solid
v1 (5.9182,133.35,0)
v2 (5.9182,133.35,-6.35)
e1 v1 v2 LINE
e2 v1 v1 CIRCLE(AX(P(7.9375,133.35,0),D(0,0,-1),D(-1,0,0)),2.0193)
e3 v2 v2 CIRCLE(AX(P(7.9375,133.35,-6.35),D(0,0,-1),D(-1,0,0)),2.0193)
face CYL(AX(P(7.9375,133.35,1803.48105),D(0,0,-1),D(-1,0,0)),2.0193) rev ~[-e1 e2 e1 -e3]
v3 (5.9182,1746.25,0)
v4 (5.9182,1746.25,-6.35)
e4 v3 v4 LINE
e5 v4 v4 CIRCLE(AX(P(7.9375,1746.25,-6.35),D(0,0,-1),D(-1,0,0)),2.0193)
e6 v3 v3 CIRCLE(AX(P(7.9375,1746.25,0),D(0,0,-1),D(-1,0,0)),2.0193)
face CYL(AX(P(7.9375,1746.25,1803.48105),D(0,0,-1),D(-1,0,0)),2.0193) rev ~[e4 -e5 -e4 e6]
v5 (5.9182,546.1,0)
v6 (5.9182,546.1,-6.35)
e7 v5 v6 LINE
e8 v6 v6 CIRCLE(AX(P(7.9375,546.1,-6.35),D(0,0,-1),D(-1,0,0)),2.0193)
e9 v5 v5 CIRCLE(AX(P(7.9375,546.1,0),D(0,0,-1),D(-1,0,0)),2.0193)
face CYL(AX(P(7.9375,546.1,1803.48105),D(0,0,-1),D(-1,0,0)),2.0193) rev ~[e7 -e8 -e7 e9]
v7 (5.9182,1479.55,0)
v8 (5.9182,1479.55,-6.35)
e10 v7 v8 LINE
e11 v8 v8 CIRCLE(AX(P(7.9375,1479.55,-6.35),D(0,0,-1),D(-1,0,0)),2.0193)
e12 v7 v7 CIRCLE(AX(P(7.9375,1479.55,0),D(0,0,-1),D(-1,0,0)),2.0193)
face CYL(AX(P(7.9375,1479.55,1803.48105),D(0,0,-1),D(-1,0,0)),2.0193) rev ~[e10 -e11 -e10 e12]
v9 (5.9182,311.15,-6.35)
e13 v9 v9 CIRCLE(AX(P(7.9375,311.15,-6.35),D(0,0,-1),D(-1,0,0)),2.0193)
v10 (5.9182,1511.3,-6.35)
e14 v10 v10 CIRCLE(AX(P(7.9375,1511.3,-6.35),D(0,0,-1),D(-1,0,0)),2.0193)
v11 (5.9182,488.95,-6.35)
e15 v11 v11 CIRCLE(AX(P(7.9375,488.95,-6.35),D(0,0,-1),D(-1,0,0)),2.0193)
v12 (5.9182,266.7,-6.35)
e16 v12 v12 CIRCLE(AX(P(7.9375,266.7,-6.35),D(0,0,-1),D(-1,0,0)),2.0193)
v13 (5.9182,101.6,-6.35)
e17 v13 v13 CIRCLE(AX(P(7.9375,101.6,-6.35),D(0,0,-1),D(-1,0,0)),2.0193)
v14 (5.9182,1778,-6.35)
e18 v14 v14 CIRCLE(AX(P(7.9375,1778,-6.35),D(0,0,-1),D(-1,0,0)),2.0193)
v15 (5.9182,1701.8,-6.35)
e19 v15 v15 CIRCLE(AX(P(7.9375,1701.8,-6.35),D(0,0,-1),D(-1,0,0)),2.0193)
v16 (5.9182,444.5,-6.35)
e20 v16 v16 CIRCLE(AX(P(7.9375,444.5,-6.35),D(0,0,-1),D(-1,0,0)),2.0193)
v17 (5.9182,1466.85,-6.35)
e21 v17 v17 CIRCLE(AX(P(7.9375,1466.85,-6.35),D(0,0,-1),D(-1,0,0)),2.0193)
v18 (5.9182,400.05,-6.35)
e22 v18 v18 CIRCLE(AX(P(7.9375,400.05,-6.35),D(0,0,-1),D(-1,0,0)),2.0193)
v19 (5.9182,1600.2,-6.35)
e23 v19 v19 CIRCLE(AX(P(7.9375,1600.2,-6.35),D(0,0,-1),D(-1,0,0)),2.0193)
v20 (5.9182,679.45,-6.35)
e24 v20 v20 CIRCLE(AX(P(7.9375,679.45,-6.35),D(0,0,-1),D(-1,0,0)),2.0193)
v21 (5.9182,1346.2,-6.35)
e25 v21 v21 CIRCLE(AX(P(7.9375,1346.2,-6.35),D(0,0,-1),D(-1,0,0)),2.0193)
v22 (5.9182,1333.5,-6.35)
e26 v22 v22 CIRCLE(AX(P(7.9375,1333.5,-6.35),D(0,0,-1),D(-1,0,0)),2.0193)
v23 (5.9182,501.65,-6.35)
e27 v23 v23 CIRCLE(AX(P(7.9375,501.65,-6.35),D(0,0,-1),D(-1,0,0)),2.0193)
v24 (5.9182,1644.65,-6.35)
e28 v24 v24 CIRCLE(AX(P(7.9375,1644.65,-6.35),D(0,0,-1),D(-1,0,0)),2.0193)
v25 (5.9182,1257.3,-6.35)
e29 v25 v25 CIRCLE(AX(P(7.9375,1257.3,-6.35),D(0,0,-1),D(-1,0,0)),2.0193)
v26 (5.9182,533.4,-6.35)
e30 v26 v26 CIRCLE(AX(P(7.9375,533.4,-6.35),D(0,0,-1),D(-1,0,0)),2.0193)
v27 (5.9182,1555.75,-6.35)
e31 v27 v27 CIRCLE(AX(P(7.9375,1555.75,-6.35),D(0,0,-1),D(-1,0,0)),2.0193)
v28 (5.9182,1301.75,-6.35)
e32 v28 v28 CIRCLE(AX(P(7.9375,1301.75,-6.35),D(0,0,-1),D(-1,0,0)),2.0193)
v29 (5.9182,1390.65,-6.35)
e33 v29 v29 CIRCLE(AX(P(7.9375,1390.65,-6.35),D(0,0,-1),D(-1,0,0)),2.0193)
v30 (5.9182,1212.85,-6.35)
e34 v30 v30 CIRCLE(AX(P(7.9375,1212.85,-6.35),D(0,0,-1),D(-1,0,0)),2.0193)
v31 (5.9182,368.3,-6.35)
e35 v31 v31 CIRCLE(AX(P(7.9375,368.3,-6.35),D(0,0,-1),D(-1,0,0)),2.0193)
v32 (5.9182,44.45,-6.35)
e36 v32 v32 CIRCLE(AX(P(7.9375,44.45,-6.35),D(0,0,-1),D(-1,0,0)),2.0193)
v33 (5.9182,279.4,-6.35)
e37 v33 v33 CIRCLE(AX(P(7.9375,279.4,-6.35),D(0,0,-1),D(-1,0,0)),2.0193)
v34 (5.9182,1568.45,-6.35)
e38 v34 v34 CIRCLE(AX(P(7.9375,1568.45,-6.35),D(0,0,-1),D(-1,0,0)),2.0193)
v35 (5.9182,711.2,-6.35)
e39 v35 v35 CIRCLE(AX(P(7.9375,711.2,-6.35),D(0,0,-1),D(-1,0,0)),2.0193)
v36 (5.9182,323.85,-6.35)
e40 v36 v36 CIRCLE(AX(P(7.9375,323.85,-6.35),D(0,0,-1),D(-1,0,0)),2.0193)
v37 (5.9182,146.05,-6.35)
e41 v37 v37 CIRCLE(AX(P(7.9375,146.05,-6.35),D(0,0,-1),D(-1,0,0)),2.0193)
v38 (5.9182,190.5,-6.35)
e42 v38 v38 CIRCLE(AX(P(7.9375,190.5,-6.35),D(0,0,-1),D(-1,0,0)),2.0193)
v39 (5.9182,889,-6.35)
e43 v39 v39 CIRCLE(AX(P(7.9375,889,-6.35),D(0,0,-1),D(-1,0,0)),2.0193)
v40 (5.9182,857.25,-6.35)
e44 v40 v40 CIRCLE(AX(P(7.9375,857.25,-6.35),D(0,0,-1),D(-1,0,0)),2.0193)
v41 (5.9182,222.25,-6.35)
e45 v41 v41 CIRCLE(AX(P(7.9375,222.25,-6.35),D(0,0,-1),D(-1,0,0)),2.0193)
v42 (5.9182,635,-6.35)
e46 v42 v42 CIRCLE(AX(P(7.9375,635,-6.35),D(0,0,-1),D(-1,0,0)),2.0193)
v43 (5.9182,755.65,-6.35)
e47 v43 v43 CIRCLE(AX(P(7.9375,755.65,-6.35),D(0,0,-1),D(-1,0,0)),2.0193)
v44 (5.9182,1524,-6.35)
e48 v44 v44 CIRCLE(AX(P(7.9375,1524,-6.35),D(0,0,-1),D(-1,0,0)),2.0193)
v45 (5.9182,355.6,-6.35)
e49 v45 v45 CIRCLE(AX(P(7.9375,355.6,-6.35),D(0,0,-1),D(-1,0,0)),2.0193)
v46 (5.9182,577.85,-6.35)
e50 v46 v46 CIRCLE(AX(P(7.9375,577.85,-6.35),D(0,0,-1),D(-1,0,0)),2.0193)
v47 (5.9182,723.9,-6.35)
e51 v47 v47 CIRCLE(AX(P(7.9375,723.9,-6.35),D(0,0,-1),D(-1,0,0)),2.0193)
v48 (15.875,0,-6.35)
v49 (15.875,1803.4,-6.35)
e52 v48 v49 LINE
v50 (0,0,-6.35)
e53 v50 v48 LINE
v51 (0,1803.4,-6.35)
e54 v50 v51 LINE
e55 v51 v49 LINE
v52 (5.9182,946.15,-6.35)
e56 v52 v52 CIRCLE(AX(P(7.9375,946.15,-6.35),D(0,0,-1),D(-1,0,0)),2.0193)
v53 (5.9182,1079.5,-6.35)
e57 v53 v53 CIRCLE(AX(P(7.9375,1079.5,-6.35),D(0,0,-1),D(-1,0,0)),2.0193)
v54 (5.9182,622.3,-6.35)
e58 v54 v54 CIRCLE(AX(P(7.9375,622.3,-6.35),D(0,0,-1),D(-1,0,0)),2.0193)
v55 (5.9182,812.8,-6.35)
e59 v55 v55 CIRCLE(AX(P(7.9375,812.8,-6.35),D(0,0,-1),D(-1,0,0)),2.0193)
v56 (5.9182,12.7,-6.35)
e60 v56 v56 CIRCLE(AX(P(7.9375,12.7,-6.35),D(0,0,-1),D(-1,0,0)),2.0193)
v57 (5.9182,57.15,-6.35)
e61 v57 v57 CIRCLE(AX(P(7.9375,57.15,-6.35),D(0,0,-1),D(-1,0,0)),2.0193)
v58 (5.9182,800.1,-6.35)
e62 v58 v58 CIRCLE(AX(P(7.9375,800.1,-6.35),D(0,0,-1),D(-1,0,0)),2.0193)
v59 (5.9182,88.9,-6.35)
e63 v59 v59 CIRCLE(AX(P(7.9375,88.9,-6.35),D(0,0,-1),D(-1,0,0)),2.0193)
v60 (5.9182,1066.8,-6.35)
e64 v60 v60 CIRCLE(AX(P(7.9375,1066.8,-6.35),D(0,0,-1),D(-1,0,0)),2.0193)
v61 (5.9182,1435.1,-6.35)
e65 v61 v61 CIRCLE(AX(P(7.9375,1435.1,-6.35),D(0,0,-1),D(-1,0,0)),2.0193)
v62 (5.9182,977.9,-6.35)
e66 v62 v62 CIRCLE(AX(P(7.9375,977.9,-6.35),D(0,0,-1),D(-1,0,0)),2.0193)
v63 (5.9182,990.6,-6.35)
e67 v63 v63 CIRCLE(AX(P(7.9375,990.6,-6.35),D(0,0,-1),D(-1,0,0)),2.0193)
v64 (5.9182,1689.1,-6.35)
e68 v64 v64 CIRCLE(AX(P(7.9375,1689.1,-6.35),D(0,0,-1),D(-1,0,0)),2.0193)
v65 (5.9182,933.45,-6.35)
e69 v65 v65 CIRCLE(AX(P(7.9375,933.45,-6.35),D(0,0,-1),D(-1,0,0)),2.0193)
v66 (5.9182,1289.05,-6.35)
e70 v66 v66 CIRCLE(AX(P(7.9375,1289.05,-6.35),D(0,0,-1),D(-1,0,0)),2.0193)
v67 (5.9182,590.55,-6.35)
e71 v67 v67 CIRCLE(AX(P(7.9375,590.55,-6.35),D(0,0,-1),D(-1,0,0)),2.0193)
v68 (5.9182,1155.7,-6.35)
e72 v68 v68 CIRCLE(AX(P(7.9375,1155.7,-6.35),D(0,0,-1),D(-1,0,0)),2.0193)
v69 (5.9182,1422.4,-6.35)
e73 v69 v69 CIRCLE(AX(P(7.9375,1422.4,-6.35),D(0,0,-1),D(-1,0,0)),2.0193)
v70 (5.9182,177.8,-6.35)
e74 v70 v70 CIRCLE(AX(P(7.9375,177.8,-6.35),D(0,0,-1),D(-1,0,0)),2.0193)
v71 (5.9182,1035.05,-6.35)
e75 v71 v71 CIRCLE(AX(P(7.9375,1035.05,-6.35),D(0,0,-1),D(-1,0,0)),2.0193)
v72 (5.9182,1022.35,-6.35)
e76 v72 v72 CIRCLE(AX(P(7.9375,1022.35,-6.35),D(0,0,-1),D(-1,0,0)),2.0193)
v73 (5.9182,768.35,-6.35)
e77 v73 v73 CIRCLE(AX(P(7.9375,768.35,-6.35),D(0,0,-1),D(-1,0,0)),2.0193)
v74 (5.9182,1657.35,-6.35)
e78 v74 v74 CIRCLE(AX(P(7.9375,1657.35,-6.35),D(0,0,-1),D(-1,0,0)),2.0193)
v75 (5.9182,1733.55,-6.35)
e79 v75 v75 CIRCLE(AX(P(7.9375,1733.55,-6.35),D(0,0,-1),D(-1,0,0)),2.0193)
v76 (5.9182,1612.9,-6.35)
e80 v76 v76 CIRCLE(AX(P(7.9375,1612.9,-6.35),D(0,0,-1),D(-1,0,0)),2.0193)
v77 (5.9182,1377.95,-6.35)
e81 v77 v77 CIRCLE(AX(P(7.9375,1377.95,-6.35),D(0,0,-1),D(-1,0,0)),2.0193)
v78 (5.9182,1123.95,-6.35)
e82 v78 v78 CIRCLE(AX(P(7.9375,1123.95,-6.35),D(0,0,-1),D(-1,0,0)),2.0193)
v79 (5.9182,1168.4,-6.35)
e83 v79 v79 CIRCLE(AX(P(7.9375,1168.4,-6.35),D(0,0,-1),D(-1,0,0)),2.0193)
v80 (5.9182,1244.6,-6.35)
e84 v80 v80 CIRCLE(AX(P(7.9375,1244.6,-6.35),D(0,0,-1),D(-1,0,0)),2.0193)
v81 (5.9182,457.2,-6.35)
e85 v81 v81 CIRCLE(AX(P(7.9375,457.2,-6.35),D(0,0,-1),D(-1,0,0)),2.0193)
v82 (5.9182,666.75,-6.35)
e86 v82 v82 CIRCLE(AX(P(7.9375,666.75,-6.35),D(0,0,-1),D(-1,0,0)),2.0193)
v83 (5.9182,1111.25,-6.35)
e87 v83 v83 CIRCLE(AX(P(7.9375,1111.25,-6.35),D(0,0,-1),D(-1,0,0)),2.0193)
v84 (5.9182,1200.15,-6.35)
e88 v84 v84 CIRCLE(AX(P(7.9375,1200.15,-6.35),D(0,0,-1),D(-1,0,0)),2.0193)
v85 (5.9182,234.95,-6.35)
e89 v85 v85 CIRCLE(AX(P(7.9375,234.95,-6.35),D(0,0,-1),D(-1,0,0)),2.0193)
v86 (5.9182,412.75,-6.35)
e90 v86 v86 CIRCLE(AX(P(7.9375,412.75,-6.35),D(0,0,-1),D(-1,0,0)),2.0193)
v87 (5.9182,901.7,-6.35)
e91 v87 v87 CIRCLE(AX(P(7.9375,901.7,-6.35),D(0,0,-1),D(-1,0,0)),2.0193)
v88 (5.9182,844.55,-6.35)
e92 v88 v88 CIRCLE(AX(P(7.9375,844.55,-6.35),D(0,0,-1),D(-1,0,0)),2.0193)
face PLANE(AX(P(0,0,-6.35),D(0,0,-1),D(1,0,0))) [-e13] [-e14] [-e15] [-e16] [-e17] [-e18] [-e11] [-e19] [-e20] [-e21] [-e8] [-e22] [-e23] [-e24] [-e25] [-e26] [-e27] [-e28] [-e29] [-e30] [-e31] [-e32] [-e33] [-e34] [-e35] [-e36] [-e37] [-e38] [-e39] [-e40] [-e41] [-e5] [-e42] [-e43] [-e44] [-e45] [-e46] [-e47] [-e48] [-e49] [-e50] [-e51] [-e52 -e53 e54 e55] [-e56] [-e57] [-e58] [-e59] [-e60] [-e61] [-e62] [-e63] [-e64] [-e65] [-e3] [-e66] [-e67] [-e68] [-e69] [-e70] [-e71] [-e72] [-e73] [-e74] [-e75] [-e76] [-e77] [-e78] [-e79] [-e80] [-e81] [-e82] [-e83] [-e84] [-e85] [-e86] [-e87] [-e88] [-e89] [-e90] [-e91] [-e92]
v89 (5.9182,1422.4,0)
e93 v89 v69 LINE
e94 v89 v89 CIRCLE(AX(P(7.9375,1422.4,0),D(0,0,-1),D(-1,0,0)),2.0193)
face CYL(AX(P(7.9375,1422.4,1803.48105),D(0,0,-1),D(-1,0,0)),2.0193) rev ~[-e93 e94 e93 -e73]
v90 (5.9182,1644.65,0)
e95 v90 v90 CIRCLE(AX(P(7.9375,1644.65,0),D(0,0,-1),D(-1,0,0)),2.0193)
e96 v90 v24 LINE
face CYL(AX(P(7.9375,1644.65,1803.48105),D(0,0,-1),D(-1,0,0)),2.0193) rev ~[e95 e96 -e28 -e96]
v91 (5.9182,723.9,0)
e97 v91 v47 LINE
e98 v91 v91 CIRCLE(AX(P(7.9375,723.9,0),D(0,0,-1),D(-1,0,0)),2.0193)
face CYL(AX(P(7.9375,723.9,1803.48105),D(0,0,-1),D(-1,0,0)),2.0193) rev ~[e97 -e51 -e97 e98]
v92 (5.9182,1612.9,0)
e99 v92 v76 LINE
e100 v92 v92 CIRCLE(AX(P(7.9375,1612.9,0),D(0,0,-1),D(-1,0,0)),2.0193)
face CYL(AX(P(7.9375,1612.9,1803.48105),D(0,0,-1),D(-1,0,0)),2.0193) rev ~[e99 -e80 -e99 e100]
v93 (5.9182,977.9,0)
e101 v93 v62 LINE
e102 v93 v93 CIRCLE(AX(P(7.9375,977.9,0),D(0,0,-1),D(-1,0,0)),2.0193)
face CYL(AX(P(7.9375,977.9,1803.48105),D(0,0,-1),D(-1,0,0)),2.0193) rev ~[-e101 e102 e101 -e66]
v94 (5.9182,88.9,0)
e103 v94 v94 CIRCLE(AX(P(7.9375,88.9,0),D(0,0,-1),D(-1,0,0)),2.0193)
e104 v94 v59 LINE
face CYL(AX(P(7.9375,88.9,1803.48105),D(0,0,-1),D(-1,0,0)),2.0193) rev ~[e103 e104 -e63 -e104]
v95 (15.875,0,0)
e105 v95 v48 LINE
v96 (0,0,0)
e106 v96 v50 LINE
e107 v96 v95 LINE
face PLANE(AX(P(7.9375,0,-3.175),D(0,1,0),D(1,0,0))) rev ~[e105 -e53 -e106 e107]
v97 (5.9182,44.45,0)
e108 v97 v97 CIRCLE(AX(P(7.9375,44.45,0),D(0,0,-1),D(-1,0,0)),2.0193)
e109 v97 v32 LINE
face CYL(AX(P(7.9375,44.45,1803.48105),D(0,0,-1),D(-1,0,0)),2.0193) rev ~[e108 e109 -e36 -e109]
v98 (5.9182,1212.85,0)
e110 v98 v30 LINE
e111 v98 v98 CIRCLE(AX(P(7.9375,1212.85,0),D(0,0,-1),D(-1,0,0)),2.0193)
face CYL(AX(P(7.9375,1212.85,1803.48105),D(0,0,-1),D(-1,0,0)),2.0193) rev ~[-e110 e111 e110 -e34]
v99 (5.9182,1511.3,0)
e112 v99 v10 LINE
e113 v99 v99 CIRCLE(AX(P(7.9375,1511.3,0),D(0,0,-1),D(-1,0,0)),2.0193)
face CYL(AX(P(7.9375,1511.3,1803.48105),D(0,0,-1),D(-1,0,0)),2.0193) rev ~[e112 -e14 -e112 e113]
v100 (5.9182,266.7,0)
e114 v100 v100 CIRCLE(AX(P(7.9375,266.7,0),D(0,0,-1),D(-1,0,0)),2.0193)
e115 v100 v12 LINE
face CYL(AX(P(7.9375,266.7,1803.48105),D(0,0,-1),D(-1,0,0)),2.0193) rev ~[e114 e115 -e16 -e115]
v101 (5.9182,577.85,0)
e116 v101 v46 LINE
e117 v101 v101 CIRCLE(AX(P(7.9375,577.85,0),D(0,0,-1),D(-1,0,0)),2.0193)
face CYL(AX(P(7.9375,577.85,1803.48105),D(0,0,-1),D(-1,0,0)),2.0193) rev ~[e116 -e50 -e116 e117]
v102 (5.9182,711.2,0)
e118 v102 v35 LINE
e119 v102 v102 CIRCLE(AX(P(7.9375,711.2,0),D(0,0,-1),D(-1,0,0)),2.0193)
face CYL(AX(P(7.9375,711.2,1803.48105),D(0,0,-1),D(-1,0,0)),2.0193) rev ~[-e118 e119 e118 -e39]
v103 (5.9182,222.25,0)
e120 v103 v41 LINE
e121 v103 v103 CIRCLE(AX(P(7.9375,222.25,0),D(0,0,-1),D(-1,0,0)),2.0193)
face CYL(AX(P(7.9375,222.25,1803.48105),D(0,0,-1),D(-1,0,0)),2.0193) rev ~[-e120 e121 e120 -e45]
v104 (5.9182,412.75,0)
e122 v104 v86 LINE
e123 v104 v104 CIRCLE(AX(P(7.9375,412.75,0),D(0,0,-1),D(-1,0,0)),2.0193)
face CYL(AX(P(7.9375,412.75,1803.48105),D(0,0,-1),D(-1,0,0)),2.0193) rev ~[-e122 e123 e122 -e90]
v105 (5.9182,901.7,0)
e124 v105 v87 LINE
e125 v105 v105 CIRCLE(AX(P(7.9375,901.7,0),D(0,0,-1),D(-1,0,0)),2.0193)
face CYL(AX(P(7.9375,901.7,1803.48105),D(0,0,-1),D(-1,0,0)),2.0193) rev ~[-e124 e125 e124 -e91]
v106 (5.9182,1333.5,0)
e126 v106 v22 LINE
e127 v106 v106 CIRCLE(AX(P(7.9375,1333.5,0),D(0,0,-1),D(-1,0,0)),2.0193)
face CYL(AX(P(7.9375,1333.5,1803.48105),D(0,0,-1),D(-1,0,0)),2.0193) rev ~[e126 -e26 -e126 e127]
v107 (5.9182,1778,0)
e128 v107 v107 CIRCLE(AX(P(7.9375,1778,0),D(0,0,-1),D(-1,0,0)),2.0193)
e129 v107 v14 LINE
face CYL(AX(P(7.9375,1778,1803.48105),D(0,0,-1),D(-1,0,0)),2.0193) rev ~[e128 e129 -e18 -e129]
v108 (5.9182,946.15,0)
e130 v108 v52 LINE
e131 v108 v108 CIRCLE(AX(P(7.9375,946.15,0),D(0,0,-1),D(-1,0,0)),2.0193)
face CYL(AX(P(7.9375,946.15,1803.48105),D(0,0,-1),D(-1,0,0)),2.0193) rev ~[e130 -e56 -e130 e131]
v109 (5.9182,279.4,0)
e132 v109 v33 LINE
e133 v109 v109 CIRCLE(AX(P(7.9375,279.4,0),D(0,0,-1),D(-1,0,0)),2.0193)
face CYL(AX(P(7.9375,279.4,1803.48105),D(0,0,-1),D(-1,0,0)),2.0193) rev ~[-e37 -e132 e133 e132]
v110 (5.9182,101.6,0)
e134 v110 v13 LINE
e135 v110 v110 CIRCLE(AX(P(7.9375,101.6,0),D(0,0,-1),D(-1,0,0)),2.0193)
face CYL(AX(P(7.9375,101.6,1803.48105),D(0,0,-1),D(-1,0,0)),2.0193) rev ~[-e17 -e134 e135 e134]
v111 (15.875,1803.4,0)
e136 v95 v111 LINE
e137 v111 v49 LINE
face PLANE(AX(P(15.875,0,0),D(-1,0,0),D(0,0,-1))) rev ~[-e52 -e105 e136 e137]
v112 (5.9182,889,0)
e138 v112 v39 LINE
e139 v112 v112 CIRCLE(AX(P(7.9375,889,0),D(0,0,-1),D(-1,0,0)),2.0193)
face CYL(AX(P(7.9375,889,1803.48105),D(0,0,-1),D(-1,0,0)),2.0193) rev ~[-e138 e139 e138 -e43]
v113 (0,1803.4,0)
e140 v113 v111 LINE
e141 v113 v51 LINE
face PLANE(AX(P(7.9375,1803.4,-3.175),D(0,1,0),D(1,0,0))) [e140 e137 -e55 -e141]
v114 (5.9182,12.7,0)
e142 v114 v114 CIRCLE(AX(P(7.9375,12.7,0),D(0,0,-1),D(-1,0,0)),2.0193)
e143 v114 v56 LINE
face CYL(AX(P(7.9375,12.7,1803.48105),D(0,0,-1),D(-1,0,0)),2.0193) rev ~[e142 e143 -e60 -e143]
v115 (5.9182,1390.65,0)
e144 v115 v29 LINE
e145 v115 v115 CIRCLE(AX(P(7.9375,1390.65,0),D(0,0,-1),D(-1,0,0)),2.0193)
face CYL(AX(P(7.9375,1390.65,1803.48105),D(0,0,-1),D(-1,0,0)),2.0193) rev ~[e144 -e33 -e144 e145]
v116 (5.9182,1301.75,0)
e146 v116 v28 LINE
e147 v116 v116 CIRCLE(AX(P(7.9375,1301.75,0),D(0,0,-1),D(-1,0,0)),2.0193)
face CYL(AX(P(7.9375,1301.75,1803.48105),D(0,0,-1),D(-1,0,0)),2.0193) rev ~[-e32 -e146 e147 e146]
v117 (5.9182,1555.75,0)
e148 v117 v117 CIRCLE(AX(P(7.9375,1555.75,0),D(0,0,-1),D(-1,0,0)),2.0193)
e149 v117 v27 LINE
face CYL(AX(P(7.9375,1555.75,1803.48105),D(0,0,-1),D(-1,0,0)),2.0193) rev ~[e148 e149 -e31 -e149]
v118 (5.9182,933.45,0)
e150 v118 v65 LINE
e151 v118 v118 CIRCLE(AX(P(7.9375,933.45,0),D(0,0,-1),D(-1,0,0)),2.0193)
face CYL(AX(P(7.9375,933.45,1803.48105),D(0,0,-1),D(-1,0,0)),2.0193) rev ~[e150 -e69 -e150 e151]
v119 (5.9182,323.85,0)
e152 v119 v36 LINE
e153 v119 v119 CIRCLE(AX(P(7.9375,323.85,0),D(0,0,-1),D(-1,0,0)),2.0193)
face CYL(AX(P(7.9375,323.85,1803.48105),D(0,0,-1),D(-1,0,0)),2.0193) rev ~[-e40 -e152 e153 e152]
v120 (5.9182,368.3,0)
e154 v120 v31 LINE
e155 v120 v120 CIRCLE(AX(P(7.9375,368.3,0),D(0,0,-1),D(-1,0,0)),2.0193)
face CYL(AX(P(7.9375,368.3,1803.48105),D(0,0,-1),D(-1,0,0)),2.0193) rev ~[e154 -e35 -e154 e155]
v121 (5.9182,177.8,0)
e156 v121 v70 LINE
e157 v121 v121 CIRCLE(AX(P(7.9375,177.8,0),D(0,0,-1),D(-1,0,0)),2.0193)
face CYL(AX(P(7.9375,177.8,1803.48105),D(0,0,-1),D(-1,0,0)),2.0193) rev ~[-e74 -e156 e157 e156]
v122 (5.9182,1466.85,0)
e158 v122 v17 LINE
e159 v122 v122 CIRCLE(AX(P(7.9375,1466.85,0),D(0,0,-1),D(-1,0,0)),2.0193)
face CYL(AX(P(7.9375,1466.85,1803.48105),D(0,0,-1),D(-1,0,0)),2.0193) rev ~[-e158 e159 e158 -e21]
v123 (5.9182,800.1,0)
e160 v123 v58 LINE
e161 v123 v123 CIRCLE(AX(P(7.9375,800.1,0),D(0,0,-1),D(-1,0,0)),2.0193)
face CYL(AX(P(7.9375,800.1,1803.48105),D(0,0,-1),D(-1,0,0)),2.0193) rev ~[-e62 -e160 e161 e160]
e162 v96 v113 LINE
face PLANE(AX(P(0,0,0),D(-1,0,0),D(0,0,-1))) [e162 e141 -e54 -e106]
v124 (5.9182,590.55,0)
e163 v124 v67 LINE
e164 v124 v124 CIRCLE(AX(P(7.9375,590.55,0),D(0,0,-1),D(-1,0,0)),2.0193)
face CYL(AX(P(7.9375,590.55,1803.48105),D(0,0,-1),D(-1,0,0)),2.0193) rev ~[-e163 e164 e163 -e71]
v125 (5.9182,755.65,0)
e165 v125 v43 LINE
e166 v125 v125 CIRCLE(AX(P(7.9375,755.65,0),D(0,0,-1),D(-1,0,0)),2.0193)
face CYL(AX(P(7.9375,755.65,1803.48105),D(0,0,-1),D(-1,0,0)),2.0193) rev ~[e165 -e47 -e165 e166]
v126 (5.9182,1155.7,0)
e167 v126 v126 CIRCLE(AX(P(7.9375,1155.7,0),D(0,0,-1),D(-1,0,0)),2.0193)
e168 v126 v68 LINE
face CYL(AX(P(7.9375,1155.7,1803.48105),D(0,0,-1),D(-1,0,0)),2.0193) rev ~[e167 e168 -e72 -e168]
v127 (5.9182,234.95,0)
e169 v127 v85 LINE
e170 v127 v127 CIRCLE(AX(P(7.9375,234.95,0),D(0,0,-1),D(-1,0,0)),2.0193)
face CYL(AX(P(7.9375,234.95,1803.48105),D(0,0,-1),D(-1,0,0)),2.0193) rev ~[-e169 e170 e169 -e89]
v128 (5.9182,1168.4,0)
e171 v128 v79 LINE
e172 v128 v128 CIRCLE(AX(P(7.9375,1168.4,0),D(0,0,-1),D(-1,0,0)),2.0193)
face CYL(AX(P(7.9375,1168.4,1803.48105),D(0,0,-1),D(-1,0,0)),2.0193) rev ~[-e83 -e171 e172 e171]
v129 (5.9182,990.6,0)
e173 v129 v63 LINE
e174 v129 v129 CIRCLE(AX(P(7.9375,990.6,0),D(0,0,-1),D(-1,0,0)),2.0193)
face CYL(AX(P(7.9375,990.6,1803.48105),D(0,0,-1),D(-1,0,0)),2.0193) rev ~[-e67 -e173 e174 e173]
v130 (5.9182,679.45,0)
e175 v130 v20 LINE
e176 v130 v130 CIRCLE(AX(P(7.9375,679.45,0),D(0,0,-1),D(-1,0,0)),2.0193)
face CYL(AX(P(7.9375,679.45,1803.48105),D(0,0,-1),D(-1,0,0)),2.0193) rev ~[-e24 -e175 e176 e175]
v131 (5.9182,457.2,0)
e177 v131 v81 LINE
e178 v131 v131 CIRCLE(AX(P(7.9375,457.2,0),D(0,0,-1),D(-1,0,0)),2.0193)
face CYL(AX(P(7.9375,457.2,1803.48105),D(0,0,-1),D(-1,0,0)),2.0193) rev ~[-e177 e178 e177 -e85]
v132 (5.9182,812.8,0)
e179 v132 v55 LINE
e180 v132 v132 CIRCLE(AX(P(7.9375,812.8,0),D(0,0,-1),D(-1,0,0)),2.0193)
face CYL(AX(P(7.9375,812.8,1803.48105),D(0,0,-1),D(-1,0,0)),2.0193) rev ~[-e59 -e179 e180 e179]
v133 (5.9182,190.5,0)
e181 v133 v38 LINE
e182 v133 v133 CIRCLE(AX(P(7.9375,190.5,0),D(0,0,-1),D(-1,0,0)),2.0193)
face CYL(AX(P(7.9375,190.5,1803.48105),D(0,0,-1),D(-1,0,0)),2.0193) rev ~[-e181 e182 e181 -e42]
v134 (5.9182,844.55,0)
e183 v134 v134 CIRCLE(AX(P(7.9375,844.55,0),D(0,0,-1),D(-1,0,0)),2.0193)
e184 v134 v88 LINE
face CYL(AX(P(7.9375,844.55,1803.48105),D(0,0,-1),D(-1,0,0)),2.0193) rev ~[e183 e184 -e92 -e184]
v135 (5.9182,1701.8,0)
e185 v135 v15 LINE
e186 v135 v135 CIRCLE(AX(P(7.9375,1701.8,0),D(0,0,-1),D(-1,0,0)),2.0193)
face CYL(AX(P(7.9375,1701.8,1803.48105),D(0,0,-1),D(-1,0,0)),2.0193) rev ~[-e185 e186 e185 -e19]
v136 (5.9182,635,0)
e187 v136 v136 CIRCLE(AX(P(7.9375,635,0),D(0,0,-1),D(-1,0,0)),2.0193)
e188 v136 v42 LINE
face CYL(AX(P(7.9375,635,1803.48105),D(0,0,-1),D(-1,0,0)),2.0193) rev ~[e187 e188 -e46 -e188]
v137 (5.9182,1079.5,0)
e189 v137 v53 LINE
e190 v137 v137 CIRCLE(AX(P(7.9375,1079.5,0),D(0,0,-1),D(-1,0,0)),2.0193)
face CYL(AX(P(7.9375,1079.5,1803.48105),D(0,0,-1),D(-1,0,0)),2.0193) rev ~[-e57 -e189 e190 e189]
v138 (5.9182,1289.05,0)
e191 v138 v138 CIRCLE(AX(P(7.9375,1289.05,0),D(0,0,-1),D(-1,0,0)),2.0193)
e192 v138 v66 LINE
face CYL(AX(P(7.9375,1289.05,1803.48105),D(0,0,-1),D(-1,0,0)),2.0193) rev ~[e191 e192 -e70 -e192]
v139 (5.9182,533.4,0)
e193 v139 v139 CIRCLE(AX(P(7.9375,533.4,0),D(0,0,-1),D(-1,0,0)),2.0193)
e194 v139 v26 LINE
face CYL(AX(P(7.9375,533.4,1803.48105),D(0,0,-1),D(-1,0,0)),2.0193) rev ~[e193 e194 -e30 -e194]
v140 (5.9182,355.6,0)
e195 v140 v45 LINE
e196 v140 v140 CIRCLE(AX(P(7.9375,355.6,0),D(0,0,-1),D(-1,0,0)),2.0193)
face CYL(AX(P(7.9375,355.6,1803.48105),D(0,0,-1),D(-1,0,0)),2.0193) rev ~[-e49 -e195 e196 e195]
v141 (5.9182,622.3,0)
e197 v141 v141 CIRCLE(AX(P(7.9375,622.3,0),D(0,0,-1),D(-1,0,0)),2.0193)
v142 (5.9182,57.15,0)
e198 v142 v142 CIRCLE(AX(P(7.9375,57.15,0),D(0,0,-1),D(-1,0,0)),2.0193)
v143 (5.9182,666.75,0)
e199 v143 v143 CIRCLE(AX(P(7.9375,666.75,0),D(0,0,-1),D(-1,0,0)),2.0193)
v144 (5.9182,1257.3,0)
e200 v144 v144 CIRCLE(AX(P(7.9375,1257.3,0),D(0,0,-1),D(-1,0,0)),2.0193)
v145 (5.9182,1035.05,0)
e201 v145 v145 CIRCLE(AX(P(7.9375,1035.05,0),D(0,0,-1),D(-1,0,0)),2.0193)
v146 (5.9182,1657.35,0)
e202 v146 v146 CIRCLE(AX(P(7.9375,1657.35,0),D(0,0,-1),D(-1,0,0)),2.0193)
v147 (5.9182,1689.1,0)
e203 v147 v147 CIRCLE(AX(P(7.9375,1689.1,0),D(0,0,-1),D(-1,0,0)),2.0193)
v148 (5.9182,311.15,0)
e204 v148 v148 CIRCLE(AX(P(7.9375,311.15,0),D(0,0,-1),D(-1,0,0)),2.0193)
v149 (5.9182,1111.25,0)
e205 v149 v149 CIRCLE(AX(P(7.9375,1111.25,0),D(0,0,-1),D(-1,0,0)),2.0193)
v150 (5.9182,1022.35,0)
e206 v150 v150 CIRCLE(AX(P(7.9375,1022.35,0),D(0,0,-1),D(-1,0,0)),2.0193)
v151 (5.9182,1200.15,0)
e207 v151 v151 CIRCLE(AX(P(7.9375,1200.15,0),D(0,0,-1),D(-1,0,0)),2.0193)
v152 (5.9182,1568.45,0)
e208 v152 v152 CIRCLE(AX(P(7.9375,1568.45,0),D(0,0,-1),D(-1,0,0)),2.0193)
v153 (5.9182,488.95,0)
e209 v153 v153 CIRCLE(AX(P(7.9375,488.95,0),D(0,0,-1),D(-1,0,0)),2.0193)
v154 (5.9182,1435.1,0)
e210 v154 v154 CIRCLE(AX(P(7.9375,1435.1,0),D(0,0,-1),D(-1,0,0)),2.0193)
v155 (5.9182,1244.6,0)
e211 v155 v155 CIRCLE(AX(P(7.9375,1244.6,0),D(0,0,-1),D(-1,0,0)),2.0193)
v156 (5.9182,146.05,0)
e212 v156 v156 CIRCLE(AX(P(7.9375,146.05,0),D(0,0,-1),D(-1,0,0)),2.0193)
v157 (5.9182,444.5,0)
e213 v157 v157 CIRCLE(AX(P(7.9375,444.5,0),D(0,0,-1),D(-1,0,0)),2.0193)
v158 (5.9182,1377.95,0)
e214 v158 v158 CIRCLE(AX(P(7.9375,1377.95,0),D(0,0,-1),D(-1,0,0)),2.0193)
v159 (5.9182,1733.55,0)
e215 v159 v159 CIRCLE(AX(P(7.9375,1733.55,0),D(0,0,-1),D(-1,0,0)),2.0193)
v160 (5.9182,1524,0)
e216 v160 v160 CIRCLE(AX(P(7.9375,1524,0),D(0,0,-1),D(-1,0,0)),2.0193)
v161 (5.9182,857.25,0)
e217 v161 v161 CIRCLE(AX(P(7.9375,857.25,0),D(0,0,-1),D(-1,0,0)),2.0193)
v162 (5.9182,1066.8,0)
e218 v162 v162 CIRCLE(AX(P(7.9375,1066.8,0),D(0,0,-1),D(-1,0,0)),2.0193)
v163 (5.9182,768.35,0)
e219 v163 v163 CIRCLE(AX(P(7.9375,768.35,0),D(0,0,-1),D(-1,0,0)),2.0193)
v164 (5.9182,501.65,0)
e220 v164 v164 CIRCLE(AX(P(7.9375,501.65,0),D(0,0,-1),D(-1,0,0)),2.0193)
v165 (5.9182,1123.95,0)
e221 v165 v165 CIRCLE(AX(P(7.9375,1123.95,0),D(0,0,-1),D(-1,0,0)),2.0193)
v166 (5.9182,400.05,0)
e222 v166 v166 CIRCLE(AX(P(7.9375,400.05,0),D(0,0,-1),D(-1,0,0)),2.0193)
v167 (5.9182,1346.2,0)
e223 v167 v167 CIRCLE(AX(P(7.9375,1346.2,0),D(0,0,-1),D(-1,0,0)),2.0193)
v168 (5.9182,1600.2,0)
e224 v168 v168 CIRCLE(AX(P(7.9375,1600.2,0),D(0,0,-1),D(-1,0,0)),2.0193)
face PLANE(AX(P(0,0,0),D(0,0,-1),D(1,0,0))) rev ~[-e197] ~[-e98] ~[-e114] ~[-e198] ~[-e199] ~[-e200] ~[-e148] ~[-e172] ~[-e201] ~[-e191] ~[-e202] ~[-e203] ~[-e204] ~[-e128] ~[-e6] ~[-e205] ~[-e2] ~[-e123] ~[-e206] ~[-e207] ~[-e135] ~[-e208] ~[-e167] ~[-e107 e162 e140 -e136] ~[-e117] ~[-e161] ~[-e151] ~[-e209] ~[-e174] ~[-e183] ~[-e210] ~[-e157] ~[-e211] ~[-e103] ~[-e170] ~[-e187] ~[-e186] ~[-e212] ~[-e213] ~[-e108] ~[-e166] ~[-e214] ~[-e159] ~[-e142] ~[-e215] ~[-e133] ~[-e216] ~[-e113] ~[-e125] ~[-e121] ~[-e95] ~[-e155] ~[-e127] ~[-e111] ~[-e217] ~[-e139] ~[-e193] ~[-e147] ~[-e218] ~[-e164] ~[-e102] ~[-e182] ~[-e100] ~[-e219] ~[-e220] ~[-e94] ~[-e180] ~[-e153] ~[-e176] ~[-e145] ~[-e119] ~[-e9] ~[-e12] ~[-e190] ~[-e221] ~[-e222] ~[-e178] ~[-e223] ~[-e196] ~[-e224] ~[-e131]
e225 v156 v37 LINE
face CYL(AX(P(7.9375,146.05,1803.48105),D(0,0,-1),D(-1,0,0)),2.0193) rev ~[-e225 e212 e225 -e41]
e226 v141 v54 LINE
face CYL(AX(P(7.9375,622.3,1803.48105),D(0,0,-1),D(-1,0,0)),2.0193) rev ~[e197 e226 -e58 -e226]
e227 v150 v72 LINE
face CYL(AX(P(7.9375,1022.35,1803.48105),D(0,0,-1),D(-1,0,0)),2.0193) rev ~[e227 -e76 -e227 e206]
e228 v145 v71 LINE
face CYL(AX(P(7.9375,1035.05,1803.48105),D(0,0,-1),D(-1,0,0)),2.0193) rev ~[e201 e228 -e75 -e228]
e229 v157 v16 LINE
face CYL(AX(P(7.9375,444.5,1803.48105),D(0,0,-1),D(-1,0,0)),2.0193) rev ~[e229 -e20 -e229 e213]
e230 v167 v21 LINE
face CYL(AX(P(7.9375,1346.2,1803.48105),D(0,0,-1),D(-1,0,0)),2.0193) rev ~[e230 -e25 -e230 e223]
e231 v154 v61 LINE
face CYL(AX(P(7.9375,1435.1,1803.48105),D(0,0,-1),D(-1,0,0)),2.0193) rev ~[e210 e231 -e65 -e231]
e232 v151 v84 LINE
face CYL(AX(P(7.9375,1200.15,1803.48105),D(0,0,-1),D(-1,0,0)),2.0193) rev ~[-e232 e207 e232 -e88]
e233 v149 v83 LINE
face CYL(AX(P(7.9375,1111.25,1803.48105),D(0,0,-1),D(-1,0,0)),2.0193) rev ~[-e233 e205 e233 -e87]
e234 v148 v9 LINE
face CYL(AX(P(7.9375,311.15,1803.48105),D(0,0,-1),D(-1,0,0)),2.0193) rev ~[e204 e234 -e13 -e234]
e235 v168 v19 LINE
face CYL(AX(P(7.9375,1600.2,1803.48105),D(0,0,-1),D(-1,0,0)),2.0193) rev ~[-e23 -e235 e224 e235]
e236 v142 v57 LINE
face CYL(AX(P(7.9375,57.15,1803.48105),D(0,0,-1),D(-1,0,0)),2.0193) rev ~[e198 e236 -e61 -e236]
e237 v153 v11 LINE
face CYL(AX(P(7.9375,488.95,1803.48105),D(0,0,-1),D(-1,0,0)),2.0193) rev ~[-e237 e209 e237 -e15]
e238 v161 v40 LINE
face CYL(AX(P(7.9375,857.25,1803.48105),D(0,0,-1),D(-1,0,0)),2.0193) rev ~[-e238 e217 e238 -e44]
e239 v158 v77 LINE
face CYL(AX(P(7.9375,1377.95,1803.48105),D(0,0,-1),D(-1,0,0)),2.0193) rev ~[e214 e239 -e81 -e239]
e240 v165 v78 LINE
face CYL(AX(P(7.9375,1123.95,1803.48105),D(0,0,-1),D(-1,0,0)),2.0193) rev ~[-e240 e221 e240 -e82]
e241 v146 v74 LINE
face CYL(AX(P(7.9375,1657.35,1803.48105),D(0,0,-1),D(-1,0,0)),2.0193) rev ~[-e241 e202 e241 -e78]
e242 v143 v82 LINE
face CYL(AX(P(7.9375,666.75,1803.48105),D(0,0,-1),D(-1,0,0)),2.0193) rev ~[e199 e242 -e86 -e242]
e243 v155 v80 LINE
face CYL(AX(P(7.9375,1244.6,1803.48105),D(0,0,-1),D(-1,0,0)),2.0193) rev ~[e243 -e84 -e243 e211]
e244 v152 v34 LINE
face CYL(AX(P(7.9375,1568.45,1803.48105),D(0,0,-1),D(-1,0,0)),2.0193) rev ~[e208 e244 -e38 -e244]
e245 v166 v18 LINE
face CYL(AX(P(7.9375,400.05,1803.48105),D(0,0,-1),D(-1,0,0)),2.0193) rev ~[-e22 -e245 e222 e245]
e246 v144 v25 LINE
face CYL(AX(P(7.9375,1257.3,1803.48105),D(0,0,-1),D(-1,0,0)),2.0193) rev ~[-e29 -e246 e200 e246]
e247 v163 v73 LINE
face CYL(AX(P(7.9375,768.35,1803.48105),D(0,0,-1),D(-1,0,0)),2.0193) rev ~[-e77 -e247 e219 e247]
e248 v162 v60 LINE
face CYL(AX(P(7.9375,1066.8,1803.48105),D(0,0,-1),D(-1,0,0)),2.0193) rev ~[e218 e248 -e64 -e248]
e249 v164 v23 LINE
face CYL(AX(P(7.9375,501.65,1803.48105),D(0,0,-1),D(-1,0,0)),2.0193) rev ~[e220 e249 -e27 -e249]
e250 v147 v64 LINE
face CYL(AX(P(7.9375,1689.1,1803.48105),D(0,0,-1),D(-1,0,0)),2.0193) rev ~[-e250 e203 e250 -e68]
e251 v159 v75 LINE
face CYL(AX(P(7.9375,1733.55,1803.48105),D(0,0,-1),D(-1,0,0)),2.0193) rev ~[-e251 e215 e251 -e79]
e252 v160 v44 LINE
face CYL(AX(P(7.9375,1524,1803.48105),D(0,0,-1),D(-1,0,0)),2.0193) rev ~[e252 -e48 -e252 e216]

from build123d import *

# Parameters (mm, degrees)
SKETCH1_W                  = 15.875
SKETCH1_H                  = 6.35
BOSS_EXTRUDE1_DEPTH        = 1803.4
TAP_DRILL_FOR_10_32_TAP1_D = 4.0386


with BuildPart() as part:
    # Sketch1 → Boss-Extrude1 (new body)
    with BuildSketch(Plane(origin=(0, 0, 0), x_dir=(1, 0, 0), z_dir=(0, 1, 0))):
        with Locations((7.9375, 3.175)):
            Rectangle(SKETCH1_W, SKETCH1_H)
    extrude(amount=BOSS_EXTRUDE1_DEPTH)

    # Tap Drill for #10-32 Tap1 (through all)
    with Locations(Plane.XY):
        with Locations((7.9375, 12.7), (7.9375, 44.45), (7.9375, 57.15), (7.9375, 88.9), (7.9375, 101.6), (7.9375, 133.35), (7.9375, 146.05), (7.9375, 177.8), (7.9375, 190.5), (7.9375, 222.25), (7.9375, 234.95), (7.9375, 266.7), (7.9375, 279.4), (7.9375, 311.15), (7.9375, 323.85), (7.9375, 355.6), (7.9375, 368.3), (7.9375, 400.05), (7.9375, 412.75), (7.9375, 444.5), (7.9375, 457.2), (7.9375, 488.95), (7.9375, 501.65), (7.9375, 533.4), (7.9375, 546.1), (7.9375, 577.85), (7.9375, 590.55), (7.9375, 622.3), (7.9375, 635), (7.9375, 666.75), (7.9375, 679.45), (7.9375, 711.2), (7.9375, 723.9), (7.9375, 755.65), (7.9375, 768.35), (7.9375, 800.1), (7.9375, 812.8), (7.9375, 844.55), (7.9375, 857.25), (7.9375, 889), (7.9375, 901.7), (7.9375, 933.45), (7.9375, 946.15), (7.9375, 977.9), (7.9375, 990.6), (7.9375, 1022.35), (7.9375, 1035.05), (7.9375, 1066.8), (7.9375, 1079.5), (7.9375, 1111.25), (7.9375, 1123.95), (7.9375, 1155.7), (7.9375, 1168.4), (7.9375, 1200.15), (7.9375, 1212.85), (7.9375, 1244.6), (7.9375, 1257.3), (7.9375, 1289.05), (7.9375, 1301.75), (7.9375, 1333.5), (7.9375, 1346.2), (7.9375, 1377.95), (7.9375, 1390.65), (7.9375, 1422.4), (7.9375, 1435.1), (7.9375, 1466.85), (7.9375, 1479.55), (7.9375, 1511.3), (7.9375, 1524), (7.9375, 1555.75), (7.9375, 1568.45), (7.9375, 1600.2), (7.9375, 1612.9), (7.9375, 1644.65), (7.9375, 1657.35), (7.9375, 1689.1), (7.9375, 1701.8), (7.9375, 1733.55), (7.9375, 1746.25), (7.9375, 1778)):
            Hole(TAP_DRILL_FOR_10_32_TAP1_D / 2)


solid = part.part
